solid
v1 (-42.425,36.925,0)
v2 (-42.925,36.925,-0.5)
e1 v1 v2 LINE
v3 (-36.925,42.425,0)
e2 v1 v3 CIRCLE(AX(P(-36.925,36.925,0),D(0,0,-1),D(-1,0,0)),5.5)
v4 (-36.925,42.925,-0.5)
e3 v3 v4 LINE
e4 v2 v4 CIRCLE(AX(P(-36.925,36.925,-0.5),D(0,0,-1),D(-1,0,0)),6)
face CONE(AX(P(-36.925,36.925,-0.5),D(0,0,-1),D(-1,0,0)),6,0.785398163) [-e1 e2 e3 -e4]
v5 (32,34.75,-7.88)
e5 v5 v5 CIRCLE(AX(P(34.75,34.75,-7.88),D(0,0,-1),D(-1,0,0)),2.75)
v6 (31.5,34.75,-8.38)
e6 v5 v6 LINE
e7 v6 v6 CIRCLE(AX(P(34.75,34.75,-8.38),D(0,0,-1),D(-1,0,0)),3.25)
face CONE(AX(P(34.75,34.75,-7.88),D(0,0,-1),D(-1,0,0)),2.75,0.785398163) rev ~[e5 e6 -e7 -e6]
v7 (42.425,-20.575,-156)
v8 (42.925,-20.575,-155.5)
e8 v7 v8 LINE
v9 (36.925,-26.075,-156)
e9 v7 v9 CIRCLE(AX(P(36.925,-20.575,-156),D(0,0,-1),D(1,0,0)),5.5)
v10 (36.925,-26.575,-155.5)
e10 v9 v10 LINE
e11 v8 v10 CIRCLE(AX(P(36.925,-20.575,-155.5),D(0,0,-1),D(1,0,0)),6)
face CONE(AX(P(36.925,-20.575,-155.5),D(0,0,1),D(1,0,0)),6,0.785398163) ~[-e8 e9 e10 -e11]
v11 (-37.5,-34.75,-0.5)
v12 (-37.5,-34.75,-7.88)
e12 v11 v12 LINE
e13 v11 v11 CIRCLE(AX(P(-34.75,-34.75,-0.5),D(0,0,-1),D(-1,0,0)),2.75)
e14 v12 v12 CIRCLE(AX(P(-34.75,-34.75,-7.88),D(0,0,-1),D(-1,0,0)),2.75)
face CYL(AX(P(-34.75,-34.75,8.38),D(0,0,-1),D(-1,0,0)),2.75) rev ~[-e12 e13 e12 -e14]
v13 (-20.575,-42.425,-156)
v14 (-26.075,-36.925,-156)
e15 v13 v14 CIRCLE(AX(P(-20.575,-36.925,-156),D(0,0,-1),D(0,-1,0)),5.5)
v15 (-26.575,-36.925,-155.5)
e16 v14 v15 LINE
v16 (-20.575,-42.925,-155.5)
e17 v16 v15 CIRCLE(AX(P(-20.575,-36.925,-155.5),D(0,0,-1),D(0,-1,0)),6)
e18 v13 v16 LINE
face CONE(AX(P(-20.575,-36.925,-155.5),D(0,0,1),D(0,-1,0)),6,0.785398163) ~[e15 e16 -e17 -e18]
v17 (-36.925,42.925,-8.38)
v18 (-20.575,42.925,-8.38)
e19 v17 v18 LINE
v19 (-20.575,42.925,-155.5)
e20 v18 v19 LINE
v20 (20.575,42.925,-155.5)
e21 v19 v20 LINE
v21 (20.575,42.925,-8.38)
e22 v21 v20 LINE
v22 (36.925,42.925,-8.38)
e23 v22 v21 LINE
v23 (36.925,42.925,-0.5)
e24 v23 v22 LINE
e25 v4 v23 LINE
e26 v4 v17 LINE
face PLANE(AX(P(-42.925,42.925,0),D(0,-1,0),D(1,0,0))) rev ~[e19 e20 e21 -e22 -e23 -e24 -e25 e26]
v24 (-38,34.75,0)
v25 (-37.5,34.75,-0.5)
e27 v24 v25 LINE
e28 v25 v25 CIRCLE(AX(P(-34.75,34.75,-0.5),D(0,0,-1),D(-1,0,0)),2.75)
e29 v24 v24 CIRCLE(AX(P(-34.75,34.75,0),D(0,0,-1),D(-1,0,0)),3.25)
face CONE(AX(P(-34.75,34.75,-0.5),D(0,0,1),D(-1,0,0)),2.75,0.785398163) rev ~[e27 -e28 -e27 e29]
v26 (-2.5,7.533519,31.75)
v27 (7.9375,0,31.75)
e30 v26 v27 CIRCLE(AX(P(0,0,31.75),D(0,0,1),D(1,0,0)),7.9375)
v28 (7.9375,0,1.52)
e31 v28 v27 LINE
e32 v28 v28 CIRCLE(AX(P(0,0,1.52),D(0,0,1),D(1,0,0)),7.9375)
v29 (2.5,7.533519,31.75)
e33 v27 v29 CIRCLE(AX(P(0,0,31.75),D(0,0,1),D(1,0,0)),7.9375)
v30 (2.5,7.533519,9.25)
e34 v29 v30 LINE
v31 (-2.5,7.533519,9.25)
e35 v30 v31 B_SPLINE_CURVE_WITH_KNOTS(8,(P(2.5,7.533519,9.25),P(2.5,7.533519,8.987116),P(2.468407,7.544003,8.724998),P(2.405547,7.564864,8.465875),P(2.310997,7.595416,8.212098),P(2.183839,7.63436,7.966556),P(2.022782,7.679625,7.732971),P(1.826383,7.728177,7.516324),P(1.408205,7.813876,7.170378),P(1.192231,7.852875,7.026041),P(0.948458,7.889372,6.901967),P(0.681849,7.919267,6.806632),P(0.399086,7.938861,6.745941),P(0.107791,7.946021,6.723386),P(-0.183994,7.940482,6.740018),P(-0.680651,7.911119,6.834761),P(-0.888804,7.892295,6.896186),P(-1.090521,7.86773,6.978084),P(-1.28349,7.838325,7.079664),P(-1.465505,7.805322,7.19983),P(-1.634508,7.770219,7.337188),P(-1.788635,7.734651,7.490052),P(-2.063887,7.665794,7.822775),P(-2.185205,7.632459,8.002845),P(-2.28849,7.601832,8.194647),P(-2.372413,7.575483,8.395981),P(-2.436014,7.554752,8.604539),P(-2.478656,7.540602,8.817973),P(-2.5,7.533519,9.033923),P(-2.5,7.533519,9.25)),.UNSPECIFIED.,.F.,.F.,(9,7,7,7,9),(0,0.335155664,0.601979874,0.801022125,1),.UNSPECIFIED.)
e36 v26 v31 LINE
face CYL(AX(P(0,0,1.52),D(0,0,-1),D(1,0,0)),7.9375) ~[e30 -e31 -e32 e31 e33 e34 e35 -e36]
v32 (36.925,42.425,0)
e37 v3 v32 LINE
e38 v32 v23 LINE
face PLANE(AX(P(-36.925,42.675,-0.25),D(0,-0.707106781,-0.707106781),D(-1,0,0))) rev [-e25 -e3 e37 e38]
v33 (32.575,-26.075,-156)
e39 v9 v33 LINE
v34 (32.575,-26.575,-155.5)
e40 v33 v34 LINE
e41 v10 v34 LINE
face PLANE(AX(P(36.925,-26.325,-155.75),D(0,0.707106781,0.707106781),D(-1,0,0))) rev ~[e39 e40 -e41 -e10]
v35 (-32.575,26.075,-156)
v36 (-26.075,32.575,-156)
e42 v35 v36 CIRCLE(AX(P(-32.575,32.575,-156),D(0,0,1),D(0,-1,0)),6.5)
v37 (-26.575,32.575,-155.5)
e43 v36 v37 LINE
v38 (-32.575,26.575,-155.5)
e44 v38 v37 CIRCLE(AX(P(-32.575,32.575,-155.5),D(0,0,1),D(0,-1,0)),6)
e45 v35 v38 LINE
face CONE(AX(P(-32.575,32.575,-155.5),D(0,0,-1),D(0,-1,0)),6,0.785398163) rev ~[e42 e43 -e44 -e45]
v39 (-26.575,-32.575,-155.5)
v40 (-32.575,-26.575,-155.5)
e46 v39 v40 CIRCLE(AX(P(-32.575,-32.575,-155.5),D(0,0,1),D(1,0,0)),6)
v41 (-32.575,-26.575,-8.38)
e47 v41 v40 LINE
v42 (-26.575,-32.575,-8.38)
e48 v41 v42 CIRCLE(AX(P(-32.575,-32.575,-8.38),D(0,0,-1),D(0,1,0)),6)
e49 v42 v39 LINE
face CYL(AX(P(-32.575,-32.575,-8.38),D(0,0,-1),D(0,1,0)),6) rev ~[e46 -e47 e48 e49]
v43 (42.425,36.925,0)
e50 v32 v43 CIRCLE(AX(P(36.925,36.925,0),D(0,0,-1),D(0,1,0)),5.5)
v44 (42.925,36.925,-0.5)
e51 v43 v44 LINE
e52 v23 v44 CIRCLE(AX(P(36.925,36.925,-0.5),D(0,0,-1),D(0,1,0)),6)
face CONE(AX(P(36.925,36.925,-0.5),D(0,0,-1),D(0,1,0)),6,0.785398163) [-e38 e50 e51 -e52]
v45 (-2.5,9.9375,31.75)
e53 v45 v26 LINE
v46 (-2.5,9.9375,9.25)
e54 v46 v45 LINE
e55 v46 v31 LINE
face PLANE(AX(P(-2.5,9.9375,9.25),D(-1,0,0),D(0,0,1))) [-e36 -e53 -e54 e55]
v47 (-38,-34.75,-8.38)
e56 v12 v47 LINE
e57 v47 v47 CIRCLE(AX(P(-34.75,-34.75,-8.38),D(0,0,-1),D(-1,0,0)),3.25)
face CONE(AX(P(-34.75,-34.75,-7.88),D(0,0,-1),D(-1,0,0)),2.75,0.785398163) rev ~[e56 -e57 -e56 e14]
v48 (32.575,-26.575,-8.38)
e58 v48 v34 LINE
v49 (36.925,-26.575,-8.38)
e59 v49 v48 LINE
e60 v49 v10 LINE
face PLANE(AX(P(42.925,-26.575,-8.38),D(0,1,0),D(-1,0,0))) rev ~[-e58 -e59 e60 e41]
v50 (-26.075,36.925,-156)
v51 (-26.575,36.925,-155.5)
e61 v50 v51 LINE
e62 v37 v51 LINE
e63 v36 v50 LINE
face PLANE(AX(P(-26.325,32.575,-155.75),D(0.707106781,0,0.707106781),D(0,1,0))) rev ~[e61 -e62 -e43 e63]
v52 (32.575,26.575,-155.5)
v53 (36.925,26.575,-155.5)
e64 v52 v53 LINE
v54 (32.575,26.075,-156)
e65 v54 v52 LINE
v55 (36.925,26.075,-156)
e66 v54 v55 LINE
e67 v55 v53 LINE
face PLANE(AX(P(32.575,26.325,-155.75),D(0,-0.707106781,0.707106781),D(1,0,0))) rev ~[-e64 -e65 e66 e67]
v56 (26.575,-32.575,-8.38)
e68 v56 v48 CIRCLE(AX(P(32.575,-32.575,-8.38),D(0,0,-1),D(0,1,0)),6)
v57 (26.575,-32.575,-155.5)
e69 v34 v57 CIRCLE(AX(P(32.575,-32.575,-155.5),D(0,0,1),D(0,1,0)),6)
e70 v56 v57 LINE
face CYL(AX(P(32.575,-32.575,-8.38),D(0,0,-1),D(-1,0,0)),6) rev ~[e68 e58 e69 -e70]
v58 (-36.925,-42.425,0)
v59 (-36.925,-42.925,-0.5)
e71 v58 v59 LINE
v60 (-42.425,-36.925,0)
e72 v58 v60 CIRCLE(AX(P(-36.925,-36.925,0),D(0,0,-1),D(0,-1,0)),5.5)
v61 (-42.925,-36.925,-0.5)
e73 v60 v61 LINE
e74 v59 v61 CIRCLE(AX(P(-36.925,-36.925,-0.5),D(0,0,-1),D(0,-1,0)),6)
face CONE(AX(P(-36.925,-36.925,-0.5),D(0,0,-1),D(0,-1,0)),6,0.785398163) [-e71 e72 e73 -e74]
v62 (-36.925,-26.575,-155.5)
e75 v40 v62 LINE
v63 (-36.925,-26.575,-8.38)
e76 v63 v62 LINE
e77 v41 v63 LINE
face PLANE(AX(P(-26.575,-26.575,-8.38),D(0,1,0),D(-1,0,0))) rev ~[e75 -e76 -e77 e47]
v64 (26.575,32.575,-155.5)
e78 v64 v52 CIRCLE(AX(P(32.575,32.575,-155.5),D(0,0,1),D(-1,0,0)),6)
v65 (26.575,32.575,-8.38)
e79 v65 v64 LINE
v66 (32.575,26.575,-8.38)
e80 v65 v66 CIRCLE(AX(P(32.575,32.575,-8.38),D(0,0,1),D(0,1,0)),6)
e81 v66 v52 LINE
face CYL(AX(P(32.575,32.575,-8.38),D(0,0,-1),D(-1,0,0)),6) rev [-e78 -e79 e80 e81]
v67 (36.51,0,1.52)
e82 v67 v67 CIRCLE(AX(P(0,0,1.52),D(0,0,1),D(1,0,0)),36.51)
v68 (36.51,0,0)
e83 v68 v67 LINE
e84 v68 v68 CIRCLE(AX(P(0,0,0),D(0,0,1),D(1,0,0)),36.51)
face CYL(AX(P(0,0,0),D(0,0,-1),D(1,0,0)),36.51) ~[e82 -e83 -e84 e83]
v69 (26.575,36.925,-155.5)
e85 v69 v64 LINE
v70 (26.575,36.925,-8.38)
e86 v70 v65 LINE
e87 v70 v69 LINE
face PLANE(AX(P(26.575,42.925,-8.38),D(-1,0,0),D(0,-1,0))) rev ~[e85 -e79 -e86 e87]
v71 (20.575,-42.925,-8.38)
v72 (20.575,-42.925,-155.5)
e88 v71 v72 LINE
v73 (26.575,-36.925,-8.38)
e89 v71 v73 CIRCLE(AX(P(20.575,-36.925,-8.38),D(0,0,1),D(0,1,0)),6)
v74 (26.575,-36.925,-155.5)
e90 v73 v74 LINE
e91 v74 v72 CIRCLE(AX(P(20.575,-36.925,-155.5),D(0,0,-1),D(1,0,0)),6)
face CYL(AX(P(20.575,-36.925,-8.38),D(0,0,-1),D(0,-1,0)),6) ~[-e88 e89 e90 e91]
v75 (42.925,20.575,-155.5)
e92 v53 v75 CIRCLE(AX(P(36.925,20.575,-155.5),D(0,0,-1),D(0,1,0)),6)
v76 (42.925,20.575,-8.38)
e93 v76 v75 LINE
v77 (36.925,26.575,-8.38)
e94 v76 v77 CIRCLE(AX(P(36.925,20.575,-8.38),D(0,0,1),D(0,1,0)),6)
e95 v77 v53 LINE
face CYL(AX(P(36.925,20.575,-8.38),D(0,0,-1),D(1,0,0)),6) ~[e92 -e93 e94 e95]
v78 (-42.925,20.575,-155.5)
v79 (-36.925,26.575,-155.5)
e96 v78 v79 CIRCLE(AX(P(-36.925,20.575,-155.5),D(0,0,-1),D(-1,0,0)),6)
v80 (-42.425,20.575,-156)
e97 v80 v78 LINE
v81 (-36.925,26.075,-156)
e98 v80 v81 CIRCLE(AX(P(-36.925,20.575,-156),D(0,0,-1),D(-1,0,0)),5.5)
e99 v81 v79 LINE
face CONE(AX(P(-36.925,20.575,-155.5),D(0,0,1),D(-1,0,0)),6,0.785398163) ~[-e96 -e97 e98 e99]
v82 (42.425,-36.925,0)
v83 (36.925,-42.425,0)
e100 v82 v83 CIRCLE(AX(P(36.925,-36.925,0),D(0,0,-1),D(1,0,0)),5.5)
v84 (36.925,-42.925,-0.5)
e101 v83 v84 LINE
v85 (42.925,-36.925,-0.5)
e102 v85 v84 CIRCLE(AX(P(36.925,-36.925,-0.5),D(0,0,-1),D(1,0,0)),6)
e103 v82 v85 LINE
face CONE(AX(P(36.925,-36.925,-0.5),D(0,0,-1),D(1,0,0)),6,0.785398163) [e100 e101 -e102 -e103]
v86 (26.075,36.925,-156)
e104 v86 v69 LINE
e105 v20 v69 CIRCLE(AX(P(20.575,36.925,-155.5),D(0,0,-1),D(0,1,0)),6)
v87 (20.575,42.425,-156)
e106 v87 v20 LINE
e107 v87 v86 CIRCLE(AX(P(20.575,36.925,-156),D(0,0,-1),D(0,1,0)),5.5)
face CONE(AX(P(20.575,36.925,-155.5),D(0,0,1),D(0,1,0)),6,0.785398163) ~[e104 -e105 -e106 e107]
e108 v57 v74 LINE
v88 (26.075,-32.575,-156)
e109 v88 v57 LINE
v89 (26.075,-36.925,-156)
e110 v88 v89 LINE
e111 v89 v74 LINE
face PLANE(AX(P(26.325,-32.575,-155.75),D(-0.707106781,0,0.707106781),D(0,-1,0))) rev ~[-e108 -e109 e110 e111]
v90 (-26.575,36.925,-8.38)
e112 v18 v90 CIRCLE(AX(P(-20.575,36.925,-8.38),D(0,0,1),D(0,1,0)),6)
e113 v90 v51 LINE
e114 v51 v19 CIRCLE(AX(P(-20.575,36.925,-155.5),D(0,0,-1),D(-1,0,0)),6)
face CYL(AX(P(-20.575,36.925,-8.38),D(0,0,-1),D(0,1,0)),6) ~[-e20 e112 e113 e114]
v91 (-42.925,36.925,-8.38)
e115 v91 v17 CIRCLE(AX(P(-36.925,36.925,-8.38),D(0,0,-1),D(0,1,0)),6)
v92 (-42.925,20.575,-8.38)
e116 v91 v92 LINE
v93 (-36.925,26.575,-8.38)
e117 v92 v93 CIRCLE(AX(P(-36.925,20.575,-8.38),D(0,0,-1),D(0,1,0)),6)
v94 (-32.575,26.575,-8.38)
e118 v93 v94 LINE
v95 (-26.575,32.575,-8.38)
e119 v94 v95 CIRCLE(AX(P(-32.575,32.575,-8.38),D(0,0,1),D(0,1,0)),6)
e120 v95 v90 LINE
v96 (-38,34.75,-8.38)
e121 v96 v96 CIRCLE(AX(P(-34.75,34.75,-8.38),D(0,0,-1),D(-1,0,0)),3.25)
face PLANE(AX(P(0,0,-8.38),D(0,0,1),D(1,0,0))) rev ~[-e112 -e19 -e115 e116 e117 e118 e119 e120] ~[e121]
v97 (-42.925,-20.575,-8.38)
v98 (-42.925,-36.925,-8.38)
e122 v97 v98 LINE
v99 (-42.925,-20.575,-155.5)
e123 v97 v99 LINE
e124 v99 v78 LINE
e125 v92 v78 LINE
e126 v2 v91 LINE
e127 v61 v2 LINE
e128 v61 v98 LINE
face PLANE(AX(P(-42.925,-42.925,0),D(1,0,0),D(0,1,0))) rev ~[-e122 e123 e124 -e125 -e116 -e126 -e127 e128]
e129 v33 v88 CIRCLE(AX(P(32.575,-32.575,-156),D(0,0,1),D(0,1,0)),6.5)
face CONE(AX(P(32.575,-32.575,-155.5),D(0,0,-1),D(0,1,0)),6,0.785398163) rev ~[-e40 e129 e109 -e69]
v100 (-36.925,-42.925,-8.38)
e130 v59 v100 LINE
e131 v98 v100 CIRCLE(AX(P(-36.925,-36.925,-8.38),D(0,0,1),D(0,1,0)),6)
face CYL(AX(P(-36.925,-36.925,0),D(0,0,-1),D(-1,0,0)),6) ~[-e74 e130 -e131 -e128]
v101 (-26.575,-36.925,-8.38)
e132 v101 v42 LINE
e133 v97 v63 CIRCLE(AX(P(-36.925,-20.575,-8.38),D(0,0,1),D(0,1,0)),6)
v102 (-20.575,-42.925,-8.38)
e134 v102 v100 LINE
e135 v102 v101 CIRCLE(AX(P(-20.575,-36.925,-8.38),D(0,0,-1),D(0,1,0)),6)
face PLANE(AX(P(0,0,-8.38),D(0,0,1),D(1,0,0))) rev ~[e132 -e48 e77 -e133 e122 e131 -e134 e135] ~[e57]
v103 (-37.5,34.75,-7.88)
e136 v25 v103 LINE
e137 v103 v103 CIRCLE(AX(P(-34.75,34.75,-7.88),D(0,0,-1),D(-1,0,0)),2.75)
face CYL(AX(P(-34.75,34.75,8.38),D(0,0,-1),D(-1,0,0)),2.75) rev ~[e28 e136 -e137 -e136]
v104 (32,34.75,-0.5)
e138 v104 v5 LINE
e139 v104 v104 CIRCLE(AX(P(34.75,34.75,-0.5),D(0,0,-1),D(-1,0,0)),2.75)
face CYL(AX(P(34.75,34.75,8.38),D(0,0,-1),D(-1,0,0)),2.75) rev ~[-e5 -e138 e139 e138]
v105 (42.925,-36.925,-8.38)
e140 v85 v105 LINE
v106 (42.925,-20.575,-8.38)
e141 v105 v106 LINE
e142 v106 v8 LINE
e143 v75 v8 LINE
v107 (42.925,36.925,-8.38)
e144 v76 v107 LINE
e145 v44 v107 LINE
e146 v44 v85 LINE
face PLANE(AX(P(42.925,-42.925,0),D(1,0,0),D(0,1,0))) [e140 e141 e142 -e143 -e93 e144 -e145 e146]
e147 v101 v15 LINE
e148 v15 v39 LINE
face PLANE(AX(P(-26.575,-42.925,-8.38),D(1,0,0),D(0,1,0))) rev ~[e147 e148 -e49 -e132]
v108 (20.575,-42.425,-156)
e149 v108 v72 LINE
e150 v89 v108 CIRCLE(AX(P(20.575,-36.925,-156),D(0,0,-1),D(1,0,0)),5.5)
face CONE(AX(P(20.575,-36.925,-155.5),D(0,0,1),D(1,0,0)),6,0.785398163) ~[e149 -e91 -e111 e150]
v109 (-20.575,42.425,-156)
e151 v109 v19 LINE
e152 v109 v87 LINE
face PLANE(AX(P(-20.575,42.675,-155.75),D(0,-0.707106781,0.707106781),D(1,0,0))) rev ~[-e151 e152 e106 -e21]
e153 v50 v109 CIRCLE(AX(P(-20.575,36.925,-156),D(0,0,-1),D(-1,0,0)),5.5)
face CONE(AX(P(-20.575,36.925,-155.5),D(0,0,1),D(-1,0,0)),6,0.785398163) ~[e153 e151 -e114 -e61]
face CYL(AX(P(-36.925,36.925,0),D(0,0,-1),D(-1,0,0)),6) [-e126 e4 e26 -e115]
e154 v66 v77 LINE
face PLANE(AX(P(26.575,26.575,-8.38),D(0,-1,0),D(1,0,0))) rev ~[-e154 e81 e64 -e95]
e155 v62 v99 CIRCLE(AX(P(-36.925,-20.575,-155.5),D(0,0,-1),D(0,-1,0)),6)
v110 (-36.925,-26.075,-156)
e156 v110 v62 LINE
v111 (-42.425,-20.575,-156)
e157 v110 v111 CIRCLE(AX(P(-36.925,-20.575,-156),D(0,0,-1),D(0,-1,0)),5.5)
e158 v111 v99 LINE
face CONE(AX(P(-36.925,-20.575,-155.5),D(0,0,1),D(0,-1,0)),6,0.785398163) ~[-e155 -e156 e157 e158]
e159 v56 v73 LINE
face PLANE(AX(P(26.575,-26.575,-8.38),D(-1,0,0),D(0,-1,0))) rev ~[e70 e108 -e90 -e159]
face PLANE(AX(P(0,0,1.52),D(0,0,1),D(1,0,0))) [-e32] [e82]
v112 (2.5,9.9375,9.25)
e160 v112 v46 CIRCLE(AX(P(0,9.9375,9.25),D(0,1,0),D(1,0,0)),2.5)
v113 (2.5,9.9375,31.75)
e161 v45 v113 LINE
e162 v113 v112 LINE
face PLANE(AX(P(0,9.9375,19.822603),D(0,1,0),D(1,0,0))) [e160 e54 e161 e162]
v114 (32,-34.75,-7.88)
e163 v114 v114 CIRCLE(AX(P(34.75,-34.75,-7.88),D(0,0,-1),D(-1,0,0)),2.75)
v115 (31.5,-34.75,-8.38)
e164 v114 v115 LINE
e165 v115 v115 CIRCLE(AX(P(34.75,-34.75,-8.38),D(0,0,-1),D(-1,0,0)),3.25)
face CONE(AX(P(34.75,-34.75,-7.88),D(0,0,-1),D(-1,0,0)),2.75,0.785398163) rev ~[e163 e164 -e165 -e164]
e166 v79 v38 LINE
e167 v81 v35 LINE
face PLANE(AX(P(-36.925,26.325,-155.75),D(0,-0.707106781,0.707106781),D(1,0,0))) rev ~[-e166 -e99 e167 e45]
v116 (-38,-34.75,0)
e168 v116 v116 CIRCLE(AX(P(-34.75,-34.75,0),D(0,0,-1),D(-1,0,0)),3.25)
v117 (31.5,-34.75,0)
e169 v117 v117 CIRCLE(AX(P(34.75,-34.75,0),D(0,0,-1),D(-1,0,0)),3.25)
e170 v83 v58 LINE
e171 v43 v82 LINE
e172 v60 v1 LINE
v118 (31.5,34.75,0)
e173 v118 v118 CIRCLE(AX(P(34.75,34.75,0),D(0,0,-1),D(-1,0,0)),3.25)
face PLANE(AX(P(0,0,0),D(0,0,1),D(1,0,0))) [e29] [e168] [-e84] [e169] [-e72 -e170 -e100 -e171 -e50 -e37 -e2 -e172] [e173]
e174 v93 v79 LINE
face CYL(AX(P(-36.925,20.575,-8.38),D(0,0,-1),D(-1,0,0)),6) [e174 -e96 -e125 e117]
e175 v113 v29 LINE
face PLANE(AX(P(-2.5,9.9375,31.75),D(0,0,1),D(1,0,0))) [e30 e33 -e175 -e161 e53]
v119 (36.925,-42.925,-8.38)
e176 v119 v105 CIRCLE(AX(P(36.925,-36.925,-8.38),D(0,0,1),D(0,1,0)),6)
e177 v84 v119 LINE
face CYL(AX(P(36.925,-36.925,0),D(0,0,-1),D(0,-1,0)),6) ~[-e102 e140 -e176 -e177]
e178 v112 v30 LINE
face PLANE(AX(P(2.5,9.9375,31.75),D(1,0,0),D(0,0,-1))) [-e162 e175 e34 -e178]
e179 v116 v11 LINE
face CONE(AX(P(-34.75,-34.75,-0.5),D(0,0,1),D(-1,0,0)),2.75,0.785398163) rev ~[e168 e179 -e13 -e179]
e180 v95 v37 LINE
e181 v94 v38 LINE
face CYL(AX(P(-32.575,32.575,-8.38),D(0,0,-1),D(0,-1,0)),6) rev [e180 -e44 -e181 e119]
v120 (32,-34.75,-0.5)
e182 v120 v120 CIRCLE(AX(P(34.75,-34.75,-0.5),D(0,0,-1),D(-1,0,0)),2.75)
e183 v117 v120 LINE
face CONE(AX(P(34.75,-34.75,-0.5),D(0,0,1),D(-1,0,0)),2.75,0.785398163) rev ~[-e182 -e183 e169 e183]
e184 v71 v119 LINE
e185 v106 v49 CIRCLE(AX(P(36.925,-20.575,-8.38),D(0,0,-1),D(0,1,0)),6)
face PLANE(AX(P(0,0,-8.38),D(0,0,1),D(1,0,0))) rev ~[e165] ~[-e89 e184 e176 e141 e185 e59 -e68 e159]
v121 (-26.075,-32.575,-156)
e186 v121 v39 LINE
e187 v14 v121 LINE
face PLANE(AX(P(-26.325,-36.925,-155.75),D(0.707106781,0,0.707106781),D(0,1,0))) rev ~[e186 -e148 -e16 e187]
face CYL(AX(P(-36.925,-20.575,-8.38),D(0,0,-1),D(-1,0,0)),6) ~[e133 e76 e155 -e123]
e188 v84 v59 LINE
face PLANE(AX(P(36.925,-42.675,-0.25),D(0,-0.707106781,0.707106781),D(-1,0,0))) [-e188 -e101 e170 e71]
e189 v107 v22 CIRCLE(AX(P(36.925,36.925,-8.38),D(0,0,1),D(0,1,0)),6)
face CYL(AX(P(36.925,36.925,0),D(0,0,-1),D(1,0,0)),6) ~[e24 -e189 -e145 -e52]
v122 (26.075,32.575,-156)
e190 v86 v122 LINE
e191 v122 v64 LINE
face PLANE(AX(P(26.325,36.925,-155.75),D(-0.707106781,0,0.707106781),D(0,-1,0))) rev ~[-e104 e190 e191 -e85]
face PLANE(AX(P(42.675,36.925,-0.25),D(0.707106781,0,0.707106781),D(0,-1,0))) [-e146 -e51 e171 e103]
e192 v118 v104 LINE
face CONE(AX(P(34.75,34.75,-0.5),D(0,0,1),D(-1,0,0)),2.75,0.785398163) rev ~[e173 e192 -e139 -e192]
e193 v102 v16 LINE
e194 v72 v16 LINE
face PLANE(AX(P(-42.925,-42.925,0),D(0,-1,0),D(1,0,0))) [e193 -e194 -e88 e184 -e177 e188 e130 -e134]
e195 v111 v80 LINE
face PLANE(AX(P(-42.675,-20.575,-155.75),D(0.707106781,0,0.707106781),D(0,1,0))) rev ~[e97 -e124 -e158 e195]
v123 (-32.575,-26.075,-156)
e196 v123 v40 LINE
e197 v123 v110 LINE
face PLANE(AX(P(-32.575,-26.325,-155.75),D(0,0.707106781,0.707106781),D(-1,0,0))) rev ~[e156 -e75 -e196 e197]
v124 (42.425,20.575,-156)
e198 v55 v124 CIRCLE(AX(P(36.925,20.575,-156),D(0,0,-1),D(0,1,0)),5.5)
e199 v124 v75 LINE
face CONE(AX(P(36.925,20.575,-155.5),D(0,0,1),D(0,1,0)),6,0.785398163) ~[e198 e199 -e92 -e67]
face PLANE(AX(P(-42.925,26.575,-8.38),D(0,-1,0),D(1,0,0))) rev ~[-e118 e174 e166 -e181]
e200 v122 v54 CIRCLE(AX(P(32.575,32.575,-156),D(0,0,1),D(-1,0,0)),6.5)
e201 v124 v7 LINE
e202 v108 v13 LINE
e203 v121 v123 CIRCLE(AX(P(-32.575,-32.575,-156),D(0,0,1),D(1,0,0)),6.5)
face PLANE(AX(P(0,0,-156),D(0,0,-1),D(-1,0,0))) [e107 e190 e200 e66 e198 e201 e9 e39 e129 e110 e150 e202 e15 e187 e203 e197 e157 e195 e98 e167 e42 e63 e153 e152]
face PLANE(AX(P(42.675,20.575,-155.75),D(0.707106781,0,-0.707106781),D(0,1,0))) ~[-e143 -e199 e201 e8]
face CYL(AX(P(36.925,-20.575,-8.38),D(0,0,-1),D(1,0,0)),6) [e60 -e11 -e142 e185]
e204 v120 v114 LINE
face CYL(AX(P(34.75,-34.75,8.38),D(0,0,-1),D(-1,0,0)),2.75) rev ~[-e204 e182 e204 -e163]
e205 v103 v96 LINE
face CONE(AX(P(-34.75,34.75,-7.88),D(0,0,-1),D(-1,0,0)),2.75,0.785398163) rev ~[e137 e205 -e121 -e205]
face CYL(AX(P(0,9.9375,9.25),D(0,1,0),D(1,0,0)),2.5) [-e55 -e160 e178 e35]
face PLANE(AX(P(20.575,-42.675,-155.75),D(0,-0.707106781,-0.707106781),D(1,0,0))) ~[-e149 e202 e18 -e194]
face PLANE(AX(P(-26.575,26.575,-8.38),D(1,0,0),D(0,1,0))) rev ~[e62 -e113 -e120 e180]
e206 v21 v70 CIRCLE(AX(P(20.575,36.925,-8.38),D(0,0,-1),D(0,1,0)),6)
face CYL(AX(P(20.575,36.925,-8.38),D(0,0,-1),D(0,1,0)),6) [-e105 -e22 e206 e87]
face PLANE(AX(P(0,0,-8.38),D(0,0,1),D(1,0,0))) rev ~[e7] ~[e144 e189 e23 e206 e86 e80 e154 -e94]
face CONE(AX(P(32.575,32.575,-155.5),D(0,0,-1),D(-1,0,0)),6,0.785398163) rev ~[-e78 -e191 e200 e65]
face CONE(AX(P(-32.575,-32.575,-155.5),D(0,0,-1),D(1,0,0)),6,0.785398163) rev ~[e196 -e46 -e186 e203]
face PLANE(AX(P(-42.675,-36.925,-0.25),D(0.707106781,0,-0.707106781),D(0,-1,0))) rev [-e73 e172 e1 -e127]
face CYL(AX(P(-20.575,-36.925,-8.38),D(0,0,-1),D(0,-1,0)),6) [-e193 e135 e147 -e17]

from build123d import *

# Parameters (mm, degrees)
SKETCH1_W                 = 85.85
SKETCH1_H                 = 85.85
BOSS_EXTRUDE1_DEPTH       = 8.38
BOSS_EXTRUDE3_DEPTH       = 147.62
FILLET4_R                 = 6
FILLET5_R                 = 6
SKETCH4_R                 = 36.51
BOSS_EXTRUDE4_DEPTH       = 1.52
SKETCH5_R                 = 7.9375
BOSS_EXTRUDE5_DEPTH       = 30.23
BOSS_EXTRUDE6_DEPTH       = 5
F_5_0MM_DOWEL_HOLE1_D     = 5.5
F_5_0MM_DOWEL_HOLE1_DEPTH = 8.38
CHAMFER1_SIZE             = 0.5


with BuildPart() as part:
    # Sketch1 → Boss-Extrude1 (new body)
    with BuildSketch(Plane.XY):
        Rectangle(SKETCH1_W, SKETCH1_H)
    extrude(amount=-BOSS_EXTRUDE1_DEPTH)

    # Sketch2 → Boss-Extrude3 (add)
    with BuildSketch(Plane(origin=(0, 0, -8.38), x_dir=(-1, 0, 0), z_dir=(0, 0, -1))):
        Polygon((-26.575, -42.925), (26.575, -42.925), (26.575, -26.575), (42.925, -26.575), (42.925, 26.575), (26.575, 26.575), (26.575, 42.925), (-26.575, 42.925), (-26.575, 26.575), (-42.925, 26.575), (-42.925, -26.575), (-26.575, -26.575), align=None)
    extrude(amount=BOSS_EXTRUDE3_DEPTH)

    # Fillet4
    fillet4_edges = [part.edges().sort_by_distance(p)[0] for p in [
        (42.925, -26.575, -82.19),
        (26.575, -26.575, -82.19),
        (26.575, -42.925, -82.19),
        (-26.575, -42.925, -82.19),
        (-26.575, -26.575, -82.19),
        (-42.925, -26.575, -82.19),
        (-42.925, 26.575, -82.19),
        (-26.575, 26.575, -82.19),
        (-26.575, 42.925, -82.19),
        (26.575, 42.925, -82.19),
        (26.575, 26.575, -82.19),
        (42.925, 26.575, -82.19),
    ]]
    fillet(fillet4_edges, radius=FILLET4_R)

    # Fillet5
    fillet5_edges = [part.edges().sort_by_distance(p)[0] for p in [
        (-42.925, -42.925, -4.19),
        (42.925, -42.925, -4.19),
        (42.925, 42.925, -4.19),
        (-42.925, 42.925, -4.19),
    ]]
    fillet(fillet5_edges, radius=FILLET5_R)

    # Sketch4 → Boss-Extrude4 (add)
    with BuildSketch(Plane.XY):
        Circle(SKETCH4_R)
    extrude(amount=BOSS_EXTRUDE4_DEPTH)

    # Sketch5 → Boss-Extrude5 (add)
    with BuildSketch(Plane.XY.offset(1.52)):
        Circle(SKETCH5_R)
    extrude(amount=BOSS_EXTRUDE5_DEPTH)

    # Sketch6 → Boss-Extrude6 (add)
    with BuildSketch(Plane(origin=(0, 9.9375, 0), x_dir=(1, 0, 0), z_dir=(0, 1, 0))):
        with BuildLine():
            Line((-2.5, -31.75), (2.5, -31.75))
            Line((2.5, -31.75), (2.5, -9.25))
            ThreePointArc((2.5, -9.25), (0, -6.75), (-2.5, -9.25))
            Line((-2.5, -9.25), (-2.5, -31.75))
        make_face()
    extrude(amount=-BOSS_EXTRUDE6_DEPTH)

    # Ø5.0mm Dowel Hole1
    with Locations(Plane.XY):
        with Locations((-34.75, 34.75), (34.75, 34.75), (34.75, -34.75), (-34.75, -34.75)):
            Hole(F_5_0MM_DOWEL_HOLE1_D / 2, depth=F_5_0MM_DOWEL_HOLE1_DEPTH)

    # Chamfer1
    chamfer1_edges = [part.edges().sort_by_distance(p)[0] for p in [
        (-42.925, 0, 0),
        (42.925, 0, 0),
        (0, 42.925, 0),
        (0, -42.925, 0),
        (-41.167640687, 41.167640687, 0),
        (41.167640687, 41.167640687, 0),
        (41.167640687, -41.167640687, 0),
        (-41.167640687, -41.167640687, 0),
        (-32, -34.75, 0),
        (-32, -34.75, -8.38),
        (37.5, -34.75, 0),
        (37.5, -34.75, -8.38),
        (37.5, 34.75, 0),
        (37.5, 34.75, -8.38),
        (-32, 34.75, 0),
        (-32, 34.75, -8.38),
        (34.75, -26.575, -156),
        (42.925, 0, -156),
        (26.575, 34.75, -156),
        (34.75, 26.575, -156),
        (26.575, -34.75, -156),
        (0, -42.925, -156),
        (-26.575, -34.75, -156),
        (-34.75, -26.575, -156),
        (-42.925, 0, -156),
        (-34.75, 26.575, -156),
        (-26.575, 34.75, -156),
        (0, 42.925, -156),
        (41.167640687, 24.817640687, -156),
        (24.817640687, 41.167640687, -156),
        (-24.817640687, 41.167640687, -156),
        (-41.167640687, 24.817640687, -156),
        (-41.167640687, -24.817640687, -156),
        (-24.817640687, -41.167640687, -156),
        (24.817640687, -41.167640687, -156),
        (41.167640687, -24.817640687, -156),
        (28.332359313, -28.332359313, -156),
        (-28.332359313, -28.332359313, -156),
        (-28.332359313, 28.332359313, -156),
        (28.332359313, 28.332359313, -156),
    ]]
    chamfer(chamfer1_edges, length=CHAMFER1_SIZE)


solid = part.part
